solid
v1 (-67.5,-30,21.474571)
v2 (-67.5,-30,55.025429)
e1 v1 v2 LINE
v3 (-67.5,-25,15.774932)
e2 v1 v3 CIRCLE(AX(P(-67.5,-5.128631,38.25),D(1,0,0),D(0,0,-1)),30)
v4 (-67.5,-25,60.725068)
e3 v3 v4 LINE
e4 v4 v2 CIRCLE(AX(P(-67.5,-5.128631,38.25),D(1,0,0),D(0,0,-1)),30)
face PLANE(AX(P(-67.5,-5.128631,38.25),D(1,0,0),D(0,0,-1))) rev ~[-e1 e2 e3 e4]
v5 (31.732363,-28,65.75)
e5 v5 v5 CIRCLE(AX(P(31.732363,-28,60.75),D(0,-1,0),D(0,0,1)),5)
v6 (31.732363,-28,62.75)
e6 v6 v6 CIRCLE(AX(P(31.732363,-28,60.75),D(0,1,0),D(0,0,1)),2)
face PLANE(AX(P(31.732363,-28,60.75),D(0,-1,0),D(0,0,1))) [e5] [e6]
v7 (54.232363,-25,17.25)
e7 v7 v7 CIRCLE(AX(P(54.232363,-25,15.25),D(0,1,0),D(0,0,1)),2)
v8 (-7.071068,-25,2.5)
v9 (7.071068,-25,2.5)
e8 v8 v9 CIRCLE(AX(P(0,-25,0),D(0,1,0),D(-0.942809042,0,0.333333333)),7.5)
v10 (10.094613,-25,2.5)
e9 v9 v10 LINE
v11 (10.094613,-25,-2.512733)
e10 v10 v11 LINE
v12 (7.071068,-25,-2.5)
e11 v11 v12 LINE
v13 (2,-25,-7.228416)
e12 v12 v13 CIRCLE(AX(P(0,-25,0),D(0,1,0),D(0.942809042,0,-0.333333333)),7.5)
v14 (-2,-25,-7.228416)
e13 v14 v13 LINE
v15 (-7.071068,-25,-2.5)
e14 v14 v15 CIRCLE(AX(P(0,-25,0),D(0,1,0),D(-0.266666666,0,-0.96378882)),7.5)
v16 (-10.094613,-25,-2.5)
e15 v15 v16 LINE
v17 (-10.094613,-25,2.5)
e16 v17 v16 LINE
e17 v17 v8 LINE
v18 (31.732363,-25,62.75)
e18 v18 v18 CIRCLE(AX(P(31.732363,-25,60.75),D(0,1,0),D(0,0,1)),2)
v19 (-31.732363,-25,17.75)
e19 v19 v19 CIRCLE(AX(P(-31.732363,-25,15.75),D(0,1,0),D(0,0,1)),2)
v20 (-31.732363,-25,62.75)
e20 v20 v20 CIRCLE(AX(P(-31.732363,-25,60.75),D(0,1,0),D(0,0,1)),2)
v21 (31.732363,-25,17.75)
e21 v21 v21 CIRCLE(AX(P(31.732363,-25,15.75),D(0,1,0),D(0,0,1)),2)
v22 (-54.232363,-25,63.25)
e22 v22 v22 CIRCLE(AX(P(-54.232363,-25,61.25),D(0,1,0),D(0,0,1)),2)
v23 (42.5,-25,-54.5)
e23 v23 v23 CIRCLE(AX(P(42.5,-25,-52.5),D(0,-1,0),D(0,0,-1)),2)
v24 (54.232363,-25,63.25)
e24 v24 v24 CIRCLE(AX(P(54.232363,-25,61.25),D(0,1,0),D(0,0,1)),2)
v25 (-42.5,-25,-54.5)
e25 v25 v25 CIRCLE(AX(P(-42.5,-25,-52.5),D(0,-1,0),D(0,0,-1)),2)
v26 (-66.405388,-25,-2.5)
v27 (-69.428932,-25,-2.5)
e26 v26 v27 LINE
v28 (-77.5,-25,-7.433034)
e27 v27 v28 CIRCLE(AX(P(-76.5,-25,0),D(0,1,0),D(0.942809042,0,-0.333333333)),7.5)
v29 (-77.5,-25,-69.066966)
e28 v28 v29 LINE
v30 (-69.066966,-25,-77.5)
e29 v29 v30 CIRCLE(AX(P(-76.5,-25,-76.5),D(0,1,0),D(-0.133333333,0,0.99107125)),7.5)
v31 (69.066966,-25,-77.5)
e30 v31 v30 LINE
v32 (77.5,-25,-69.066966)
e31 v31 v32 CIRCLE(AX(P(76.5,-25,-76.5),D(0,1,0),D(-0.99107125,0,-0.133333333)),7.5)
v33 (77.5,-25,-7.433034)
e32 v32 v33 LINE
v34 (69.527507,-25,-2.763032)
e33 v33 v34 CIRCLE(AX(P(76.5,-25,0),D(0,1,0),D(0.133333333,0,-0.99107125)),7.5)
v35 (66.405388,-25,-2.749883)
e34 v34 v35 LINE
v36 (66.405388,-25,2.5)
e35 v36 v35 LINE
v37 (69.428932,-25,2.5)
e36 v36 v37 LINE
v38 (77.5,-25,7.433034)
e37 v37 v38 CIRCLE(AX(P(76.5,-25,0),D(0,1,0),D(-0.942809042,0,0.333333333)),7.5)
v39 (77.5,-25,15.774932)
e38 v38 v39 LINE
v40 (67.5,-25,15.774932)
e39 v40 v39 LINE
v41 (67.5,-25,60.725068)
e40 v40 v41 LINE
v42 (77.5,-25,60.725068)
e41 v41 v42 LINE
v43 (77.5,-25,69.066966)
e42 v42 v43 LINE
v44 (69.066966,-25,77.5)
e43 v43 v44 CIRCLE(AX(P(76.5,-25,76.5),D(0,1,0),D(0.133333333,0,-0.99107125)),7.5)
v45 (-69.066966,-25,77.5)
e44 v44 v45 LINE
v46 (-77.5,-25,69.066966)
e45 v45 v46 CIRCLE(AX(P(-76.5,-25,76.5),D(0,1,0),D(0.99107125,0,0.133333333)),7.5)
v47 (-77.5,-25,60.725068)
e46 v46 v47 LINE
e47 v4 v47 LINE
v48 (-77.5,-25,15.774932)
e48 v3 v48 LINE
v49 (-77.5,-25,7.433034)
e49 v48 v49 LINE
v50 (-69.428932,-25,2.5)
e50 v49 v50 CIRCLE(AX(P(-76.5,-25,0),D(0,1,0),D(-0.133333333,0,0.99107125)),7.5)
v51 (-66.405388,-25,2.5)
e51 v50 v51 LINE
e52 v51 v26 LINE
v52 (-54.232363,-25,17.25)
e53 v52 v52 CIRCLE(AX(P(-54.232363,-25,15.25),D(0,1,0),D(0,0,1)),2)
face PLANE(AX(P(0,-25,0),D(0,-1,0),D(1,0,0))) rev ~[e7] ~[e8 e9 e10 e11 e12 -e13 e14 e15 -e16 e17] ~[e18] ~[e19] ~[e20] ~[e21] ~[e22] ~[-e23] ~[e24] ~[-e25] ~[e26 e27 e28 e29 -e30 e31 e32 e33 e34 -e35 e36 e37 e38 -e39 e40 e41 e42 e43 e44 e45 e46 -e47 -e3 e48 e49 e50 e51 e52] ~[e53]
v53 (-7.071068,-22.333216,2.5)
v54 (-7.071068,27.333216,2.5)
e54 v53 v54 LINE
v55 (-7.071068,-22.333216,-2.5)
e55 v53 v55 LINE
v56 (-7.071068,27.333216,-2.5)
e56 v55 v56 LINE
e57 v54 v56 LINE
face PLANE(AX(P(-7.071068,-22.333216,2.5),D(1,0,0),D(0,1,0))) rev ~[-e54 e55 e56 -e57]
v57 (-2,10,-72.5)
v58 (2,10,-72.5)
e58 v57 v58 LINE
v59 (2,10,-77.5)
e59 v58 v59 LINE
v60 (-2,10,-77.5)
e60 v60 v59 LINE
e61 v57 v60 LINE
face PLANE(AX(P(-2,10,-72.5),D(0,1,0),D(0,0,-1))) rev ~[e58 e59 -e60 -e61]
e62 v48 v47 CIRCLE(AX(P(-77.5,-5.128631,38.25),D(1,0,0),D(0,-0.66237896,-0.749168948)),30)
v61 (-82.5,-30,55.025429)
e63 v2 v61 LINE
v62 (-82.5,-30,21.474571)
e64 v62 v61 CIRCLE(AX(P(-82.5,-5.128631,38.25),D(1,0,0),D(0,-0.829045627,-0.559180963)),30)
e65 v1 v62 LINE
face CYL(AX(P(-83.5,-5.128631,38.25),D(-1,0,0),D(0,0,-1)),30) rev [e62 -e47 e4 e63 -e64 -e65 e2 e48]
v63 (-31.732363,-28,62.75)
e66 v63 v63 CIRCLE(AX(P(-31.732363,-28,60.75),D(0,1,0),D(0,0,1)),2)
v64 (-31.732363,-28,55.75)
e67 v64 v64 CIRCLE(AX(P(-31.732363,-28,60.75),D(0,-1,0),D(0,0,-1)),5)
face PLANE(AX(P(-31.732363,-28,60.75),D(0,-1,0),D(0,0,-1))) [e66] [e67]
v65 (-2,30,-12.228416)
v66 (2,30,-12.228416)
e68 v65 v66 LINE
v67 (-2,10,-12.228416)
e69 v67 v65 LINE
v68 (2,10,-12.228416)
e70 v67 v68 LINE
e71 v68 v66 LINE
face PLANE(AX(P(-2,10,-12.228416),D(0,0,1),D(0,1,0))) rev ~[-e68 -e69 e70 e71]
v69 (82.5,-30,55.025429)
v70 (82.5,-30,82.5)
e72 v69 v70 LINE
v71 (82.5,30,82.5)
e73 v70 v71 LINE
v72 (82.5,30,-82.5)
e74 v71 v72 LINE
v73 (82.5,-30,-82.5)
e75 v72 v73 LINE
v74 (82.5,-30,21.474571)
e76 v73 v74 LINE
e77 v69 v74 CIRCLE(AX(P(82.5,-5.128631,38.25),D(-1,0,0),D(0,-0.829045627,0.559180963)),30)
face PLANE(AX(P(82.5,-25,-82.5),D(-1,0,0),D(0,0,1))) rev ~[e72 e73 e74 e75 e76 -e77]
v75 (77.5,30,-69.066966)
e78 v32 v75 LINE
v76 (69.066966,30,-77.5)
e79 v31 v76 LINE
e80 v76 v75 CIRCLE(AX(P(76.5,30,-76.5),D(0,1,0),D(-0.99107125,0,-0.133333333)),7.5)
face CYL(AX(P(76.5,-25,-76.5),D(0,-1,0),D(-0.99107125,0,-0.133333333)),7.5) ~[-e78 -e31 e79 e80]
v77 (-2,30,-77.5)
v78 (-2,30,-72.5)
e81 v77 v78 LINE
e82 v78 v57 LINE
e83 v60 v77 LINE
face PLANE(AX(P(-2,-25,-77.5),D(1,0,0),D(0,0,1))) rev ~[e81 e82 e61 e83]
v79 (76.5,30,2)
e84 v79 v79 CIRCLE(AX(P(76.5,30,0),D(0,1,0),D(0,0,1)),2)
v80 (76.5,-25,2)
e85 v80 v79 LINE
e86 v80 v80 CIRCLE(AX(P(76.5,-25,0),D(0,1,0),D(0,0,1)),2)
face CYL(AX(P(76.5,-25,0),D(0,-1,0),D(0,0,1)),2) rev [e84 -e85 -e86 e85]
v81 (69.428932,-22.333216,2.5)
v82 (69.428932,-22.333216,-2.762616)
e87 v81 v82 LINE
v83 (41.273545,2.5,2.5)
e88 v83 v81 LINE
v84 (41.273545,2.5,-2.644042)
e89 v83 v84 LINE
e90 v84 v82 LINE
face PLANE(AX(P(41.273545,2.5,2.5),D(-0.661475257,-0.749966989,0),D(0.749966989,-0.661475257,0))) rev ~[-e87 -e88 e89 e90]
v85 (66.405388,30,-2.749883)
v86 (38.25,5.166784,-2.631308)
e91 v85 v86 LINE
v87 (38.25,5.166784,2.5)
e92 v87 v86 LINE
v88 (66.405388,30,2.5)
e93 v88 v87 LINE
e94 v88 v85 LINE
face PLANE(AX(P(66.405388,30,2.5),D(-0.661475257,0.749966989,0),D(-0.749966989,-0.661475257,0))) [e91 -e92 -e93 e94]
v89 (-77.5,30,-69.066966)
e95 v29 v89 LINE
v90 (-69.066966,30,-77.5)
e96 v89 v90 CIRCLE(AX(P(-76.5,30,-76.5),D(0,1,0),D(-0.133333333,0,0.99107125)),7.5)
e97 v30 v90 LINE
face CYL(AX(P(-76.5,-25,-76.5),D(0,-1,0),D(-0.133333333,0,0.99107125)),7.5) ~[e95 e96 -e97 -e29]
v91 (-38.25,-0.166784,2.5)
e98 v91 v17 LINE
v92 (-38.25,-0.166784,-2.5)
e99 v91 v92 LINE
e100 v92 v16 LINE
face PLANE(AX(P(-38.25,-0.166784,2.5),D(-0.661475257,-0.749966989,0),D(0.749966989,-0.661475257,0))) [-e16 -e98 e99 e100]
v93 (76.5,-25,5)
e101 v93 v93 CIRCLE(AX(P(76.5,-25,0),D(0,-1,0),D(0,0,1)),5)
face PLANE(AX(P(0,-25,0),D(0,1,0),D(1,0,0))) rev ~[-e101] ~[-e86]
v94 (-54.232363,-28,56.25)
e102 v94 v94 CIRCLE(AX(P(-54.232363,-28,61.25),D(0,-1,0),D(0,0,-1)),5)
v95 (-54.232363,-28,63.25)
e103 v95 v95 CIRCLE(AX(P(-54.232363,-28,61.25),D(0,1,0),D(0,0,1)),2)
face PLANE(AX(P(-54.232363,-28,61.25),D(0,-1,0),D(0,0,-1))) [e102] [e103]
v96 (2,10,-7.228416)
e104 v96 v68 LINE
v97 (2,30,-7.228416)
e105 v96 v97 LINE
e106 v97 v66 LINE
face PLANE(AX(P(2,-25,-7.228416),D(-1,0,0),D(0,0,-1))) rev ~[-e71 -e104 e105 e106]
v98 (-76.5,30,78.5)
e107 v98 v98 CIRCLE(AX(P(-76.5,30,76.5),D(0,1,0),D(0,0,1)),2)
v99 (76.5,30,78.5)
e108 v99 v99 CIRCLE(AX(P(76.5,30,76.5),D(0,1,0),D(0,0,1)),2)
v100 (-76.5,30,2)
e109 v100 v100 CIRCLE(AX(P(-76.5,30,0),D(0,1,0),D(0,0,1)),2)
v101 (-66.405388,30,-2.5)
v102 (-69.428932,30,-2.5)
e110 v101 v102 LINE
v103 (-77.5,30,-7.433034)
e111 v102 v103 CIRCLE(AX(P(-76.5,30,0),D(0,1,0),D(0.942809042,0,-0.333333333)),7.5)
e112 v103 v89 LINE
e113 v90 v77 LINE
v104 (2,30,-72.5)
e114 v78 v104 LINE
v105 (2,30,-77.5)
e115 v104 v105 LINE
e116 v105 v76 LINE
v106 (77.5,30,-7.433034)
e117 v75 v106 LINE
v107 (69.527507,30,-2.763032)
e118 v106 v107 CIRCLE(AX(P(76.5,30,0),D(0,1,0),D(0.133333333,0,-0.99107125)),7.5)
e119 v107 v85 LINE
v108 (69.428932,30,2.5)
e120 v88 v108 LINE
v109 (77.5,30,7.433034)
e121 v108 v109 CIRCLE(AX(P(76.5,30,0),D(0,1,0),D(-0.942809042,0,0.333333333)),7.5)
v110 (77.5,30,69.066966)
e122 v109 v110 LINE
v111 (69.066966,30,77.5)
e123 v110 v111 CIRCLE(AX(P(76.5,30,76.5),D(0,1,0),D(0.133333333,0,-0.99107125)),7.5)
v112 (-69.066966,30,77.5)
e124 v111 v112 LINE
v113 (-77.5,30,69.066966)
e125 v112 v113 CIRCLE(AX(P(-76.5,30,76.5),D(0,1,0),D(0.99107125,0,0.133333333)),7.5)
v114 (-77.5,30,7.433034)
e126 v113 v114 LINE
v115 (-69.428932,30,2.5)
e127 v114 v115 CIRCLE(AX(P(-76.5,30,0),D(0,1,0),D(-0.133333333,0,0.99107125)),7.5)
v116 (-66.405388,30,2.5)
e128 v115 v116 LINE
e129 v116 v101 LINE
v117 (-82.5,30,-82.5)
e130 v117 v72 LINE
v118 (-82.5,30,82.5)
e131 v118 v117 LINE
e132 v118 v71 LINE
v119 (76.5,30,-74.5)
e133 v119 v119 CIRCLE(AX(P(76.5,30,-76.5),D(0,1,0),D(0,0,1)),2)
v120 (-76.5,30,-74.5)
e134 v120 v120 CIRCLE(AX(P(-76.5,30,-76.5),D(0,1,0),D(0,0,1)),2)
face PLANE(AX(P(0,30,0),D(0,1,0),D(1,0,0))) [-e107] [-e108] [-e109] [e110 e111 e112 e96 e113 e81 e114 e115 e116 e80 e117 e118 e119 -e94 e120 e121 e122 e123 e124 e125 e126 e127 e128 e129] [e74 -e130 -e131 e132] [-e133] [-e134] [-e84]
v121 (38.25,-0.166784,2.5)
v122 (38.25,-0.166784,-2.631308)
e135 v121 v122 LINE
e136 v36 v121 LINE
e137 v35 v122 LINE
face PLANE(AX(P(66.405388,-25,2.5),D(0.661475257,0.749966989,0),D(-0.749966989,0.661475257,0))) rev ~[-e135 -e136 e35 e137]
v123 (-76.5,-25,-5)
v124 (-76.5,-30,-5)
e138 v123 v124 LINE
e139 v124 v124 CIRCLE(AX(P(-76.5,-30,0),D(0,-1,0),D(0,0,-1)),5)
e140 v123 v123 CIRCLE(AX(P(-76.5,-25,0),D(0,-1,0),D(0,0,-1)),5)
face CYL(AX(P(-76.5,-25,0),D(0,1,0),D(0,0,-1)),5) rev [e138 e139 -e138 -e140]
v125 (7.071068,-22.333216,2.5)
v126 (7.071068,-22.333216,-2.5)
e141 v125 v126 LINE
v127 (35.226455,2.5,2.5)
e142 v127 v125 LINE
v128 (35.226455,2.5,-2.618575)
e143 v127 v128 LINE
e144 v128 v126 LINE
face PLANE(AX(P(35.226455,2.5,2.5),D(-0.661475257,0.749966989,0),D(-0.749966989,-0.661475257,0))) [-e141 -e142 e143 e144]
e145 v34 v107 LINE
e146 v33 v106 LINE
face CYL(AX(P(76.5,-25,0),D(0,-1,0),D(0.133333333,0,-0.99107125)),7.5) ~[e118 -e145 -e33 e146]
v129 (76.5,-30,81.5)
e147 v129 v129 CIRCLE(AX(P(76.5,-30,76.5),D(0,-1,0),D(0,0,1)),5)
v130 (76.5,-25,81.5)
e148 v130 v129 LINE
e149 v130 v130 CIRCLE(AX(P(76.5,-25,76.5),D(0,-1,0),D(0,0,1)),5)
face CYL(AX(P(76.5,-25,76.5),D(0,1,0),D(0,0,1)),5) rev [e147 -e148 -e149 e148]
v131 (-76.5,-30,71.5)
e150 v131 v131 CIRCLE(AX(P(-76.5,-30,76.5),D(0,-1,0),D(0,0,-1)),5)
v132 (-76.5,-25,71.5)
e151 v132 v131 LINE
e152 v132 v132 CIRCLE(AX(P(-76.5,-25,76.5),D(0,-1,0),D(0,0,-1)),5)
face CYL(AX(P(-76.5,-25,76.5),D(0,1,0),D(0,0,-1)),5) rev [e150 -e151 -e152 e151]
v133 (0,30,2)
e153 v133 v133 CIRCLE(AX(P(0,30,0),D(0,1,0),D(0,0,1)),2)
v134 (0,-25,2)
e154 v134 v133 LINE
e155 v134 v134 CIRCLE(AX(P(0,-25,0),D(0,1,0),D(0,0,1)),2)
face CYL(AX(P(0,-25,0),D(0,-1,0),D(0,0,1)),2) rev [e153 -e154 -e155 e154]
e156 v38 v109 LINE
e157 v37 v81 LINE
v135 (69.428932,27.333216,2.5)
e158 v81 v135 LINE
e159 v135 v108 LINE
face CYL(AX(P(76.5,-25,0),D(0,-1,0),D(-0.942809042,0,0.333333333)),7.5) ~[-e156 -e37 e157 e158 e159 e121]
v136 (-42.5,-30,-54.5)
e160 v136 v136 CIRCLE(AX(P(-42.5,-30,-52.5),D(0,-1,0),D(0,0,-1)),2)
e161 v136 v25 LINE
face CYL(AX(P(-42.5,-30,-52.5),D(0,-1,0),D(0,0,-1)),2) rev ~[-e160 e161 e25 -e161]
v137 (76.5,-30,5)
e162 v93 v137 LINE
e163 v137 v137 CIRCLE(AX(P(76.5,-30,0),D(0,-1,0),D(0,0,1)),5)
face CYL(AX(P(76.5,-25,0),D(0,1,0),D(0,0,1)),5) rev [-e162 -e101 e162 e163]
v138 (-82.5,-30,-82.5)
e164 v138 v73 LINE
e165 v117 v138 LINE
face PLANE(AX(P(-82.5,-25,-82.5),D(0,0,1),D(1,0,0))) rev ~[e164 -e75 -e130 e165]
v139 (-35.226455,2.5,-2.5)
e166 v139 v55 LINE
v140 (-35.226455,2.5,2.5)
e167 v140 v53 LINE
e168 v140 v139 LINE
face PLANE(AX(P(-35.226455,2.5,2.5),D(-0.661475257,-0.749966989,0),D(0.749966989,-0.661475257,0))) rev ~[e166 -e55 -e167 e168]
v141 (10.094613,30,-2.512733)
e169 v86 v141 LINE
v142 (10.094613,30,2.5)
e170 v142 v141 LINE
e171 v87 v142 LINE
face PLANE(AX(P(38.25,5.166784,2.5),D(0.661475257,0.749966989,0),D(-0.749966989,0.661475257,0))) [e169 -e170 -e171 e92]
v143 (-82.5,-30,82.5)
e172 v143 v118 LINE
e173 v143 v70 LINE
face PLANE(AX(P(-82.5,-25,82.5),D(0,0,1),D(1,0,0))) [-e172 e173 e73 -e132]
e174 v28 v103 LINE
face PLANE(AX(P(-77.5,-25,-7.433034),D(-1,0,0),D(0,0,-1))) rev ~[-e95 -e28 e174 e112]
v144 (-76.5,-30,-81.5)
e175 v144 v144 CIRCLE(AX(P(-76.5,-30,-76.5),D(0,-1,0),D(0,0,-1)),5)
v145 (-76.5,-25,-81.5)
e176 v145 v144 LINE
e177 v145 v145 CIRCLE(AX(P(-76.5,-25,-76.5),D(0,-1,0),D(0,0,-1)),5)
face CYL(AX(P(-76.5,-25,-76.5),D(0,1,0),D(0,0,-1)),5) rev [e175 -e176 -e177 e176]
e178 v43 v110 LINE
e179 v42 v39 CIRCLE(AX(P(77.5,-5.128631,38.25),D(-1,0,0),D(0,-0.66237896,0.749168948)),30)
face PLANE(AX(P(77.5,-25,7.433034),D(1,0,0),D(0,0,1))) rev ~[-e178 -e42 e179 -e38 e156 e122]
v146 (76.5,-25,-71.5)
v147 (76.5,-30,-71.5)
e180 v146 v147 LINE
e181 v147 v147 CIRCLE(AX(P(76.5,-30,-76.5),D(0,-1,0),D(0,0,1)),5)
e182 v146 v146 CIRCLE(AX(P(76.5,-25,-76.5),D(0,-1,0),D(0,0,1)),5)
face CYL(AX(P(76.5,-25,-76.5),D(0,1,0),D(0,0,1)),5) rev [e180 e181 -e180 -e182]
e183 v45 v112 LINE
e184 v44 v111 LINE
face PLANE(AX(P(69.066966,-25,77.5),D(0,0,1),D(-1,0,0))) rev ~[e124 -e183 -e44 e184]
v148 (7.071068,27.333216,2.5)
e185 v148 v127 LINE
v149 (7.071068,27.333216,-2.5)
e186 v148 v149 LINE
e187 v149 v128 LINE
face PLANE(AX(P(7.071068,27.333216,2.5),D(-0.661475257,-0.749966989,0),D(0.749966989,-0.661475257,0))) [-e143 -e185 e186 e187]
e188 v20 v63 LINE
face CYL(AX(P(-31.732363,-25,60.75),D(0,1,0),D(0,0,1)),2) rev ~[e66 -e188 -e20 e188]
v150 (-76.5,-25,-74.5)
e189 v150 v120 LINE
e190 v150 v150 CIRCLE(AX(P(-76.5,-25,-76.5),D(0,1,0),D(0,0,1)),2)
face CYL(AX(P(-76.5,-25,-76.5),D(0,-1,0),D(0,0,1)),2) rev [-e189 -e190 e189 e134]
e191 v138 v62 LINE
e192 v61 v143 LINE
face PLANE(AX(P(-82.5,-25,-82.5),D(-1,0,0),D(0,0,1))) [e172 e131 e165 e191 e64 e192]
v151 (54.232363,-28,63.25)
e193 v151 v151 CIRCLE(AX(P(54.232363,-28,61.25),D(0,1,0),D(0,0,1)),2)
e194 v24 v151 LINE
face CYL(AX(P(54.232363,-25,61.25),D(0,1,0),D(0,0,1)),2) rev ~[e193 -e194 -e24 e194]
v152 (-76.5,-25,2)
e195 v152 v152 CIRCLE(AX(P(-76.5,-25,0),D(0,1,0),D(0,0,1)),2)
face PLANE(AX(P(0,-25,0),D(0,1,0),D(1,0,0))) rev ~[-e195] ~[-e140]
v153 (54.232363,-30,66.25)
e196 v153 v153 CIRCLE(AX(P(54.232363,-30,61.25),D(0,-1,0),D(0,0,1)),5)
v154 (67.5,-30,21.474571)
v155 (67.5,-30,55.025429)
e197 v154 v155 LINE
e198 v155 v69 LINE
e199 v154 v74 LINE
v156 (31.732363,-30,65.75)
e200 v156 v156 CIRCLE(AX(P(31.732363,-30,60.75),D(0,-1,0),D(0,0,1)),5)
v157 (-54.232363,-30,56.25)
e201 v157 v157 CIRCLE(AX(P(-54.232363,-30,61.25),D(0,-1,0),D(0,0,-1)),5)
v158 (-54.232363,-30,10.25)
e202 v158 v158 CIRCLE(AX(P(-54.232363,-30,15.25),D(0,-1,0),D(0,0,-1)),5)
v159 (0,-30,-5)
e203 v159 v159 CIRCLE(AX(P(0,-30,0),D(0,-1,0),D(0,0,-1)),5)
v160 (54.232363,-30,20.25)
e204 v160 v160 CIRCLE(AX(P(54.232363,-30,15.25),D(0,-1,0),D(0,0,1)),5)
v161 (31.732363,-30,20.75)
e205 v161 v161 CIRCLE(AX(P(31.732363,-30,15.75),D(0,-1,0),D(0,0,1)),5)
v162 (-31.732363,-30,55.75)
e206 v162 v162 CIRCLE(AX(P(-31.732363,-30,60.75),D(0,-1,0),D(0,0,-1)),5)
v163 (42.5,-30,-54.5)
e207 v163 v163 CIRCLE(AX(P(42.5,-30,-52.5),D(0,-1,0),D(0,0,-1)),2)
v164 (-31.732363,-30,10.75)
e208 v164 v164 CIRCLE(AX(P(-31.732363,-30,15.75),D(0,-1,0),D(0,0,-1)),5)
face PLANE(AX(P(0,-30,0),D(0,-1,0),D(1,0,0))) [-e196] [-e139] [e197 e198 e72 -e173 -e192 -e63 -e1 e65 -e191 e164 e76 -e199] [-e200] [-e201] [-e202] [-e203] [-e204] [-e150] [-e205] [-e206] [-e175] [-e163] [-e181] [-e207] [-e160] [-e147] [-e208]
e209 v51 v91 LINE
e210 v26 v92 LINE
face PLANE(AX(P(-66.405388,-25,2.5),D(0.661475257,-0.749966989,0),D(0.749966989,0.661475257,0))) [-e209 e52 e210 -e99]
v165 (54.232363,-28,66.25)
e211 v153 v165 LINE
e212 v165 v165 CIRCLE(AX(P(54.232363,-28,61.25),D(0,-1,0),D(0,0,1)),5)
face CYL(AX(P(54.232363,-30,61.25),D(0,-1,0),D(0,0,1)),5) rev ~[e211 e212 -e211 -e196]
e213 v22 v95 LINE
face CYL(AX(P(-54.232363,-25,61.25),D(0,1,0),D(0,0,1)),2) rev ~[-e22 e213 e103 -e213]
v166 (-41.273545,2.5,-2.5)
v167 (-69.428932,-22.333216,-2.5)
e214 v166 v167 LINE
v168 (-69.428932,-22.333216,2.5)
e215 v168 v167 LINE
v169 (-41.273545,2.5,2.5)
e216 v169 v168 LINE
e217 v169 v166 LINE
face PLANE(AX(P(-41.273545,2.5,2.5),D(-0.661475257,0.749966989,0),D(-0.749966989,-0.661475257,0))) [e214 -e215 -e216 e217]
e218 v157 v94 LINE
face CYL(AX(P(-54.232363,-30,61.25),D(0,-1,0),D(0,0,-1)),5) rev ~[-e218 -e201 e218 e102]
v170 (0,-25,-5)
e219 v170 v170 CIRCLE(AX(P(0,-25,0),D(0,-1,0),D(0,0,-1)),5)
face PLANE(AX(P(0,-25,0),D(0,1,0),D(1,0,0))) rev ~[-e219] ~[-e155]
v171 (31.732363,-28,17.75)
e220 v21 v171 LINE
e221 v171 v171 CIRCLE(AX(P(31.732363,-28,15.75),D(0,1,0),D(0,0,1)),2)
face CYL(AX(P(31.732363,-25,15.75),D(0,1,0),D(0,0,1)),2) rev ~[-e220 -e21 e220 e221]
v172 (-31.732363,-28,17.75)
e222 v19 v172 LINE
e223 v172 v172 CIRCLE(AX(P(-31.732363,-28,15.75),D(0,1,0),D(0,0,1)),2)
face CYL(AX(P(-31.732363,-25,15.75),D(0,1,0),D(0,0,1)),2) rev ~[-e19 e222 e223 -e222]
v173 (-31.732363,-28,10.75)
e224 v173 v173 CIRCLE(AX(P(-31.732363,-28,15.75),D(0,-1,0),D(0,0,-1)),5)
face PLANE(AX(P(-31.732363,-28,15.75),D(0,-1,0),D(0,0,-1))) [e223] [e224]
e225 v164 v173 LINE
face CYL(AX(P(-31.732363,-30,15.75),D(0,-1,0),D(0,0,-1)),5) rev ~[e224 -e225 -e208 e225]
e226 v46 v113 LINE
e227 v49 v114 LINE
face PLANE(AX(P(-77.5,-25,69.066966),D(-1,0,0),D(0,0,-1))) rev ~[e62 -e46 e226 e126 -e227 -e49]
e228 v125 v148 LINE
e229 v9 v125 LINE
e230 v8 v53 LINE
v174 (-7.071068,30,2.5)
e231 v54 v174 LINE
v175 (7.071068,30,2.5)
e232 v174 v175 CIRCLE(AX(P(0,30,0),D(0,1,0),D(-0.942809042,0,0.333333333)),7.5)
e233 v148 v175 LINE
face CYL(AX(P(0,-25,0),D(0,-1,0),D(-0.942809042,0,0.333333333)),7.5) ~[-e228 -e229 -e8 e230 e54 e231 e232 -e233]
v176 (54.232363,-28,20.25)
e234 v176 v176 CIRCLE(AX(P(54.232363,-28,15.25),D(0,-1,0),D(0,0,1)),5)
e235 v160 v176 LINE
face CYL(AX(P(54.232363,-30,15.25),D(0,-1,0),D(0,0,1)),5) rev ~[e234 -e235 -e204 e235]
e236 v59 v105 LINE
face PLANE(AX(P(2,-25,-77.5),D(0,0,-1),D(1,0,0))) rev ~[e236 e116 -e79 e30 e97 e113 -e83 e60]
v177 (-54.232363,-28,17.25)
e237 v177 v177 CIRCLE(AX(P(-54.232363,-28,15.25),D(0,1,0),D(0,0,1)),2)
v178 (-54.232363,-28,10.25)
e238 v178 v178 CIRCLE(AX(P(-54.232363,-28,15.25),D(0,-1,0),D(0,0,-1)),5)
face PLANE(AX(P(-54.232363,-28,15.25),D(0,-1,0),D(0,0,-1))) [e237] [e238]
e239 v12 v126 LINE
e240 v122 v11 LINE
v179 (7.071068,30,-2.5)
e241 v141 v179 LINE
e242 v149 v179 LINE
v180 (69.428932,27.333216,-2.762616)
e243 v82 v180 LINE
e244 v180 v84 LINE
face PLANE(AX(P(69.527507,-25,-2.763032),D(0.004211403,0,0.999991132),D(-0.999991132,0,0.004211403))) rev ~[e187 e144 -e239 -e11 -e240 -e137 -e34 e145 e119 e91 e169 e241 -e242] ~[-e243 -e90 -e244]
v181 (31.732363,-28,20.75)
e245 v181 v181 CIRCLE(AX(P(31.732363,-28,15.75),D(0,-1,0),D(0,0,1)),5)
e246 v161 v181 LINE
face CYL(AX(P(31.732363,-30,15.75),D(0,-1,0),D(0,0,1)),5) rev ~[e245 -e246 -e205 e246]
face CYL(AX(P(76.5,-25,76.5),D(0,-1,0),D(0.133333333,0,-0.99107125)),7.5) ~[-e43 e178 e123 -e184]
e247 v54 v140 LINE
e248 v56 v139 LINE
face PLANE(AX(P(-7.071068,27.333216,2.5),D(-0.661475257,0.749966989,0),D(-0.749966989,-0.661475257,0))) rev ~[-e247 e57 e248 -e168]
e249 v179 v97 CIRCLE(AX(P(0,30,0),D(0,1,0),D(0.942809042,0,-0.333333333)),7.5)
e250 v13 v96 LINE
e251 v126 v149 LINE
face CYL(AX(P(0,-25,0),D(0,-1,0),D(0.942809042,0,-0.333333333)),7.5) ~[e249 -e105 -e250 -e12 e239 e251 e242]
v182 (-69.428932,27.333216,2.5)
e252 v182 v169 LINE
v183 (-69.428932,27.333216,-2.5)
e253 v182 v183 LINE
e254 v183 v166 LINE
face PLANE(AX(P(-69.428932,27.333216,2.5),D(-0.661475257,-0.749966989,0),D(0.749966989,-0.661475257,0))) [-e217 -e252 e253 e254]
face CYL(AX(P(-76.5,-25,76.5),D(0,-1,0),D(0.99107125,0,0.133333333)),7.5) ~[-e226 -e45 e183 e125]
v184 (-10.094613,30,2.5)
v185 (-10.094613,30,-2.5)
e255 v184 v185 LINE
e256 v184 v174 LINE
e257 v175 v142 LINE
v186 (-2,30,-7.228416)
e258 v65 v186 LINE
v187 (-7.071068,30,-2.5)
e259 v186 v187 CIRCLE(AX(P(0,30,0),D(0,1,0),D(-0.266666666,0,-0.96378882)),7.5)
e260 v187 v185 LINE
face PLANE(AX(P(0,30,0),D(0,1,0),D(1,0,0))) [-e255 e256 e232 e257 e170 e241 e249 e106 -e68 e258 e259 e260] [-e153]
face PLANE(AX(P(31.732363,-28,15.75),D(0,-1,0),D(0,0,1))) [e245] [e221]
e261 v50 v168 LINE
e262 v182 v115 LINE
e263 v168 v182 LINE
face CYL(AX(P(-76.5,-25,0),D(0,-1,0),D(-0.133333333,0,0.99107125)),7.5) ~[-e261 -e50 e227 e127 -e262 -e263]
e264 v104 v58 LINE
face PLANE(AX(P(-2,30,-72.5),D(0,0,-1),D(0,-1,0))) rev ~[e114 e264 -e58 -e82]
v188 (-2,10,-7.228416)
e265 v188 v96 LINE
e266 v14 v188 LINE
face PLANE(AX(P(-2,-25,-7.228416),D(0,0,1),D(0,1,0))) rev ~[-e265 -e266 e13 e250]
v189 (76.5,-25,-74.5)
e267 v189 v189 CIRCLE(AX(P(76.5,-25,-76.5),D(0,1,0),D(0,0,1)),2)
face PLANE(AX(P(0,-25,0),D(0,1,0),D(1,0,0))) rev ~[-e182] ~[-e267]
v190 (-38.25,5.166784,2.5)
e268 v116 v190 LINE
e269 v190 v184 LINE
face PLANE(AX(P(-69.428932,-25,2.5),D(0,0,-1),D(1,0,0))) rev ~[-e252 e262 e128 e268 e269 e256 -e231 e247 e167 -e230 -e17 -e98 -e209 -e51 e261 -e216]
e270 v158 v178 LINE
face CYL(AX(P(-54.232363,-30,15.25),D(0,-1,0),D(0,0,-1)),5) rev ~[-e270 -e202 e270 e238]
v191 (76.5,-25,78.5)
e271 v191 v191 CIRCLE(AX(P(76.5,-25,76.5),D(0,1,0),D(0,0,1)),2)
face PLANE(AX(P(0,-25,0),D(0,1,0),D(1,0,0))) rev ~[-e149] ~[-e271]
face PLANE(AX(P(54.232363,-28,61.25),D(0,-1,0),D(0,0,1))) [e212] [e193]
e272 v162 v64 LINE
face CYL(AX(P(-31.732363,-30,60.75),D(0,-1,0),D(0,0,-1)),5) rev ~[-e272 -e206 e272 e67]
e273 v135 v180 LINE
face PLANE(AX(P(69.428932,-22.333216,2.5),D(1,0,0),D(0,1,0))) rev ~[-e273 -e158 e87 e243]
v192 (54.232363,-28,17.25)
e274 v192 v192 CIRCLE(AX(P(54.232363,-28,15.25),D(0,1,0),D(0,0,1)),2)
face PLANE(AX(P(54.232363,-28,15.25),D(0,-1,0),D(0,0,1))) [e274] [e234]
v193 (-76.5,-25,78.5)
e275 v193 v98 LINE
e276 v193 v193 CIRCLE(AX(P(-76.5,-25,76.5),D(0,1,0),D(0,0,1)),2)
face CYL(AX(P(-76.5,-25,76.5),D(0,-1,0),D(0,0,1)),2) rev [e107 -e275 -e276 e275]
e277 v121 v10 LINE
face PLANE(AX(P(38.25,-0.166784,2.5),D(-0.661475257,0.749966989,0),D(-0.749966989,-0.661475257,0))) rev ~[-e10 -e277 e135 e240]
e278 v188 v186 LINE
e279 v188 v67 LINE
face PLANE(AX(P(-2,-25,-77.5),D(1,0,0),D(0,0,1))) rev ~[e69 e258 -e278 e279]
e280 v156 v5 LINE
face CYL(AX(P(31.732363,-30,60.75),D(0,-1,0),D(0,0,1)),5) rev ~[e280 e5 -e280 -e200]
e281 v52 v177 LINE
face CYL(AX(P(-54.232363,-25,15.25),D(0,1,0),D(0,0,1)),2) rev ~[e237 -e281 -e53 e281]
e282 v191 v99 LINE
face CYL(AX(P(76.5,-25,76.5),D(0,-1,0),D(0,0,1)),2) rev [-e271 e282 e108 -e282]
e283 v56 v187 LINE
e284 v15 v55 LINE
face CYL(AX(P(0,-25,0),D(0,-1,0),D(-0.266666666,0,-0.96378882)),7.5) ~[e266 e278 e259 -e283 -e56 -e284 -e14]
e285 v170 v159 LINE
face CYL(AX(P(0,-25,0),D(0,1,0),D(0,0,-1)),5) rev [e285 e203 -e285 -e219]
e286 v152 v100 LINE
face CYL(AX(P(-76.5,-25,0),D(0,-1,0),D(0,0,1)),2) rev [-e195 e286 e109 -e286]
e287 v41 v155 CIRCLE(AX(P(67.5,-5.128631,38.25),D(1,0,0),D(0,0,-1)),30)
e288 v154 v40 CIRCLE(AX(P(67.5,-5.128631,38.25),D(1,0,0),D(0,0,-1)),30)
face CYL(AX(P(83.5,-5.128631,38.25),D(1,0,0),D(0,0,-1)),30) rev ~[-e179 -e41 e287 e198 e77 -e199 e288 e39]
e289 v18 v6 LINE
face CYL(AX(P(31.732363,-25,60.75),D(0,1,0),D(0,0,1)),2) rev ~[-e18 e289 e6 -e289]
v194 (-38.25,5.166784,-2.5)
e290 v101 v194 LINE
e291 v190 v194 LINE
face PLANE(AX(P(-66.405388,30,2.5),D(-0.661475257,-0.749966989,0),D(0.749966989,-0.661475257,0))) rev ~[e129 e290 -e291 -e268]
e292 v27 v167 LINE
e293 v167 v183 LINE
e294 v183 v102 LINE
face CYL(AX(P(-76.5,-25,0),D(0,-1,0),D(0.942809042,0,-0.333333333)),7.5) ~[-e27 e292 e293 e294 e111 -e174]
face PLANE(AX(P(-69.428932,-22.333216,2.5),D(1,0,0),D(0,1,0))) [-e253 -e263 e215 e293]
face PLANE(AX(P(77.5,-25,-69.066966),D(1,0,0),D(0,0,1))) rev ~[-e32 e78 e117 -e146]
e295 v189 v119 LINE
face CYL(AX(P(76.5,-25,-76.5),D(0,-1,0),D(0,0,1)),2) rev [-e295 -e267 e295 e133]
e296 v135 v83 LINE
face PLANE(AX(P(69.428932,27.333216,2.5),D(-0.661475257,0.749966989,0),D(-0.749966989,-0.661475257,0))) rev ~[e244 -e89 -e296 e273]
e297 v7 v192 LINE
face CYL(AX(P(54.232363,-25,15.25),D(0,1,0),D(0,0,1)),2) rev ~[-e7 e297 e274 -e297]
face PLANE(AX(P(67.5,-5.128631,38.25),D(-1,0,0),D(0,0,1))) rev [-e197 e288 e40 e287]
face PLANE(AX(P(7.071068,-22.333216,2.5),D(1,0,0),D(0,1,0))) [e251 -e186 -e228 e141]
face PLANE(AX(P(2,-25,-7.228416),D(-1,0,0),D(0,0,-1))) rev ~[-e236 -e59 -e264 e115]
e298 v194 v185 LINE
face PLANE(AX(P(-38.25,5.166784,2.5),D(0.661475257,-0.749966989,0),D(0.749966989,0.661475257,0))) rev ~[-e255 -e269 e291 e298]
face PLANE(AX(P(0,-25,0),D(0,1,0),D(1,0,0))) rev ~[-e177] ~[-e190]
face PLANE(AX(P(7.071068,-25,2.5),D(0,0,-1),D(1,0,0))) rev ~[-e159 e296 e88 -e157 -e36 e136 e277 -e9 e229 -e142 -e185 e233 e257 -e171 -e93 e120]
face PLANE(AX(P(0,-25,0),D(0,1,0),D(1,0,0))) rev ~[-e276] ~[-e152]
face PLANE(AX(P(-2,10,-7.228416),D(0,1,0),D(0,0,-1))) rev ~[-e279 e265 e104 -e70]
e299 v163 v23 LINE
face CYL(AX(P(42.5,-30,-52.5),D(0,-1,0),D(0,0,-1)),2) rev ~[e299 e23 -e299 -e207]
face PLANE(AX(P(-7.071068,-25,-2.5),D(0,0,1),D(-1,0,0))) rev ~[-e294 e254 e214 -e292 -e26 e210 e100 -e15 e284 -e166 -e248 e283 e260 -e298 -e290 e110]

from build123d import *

# Parameters (mm, degrees)
BASE_EXT_DEPTH            = 30
BASE_EXT_DEPTH_BACK       = 25
ESQUISSE1_W               = 165
ESQUISSE1_H               = 165
ESQUISSE1_R               = 2
ESQUISSE2_W               = 165
ESQUISSE2_H               = 165
ESQUISSE2_R               = 5
BASE_BAS_DEPTH            = 5
ACCES_START               = -6
ESQUISSE4_R               = 30
ACCES_ROUES_DEPTH         = 16
ESQUISSE7_R               = 2
VIDE_SUPPORT_MOTEUR_DEPTH = 5
ESQUISSE9_R               = 5
VIS_MOTEUR_10MM_DEPTH     = 2
ESQUISSE10_R              = 2
VIS_PATIN_DEPTH           = 5
VIDE_CROIX_DEPTH          = 11
VIDE_GUIDAGE_REACH        = 123.846


with BuildPart() as part:
    # Esquisse1 → BASE EXT (new, two sides: drawn at the far end of the back side and taken through both)
    with BuildSketch(Plane(origin=(0, 0, 0), x_dir=(1, 0, 0), z_dir=(0, 1, 0)).offset(-BASE_EXT_DEPTH_BACK)):
        Rectangle(ESQUISSE1_W, ESQUISSE1_H)
        with Locations(Location((-76.5, -76.5, 0), (0, 0, 270))):
            Circle(ESQUISSE1_R, mode=Mode.SUBTRACT)
        with Locations(Location((-76.5, 0, 0), (0, 0, 270))):
            Circle(ESQUISSE1_R, mode=Mode.SUBTRACT)
        with Locations(Location((76.5, -76.5, 0), (0, 0, 270))):
            Circle(ESQUISSE1_R, mode=Mode.SUBTRACT)
        with BuildLine():
            ThreePointArc((77.5, -69.066965626), (71.196699141, -71.196699141), (69.066965626, -77.5))
            Line((69.066965626, -77.5), (-69.066965626, -77.5))
            ThreePointArc((-69.066965626, -77.5), (-71.196699141, -71.196699141), (-77.5, -69.066965626))
            Line((-77.5, -69.066965626), (-77.5, -7.433034374))
            ThreePointArc((-77.5, -7.433034374), (-72.588712088, -6.399361443), (-69.428932188, -2.5))
            Line((-69.428932188, -2.5), (-7.071067812, -2.5))
            ThreePointArc((-7.071067812, -2.5), (0, -7.5), (7.071067812, -2.5))
            Line((7.071067812, -2.5), (69.428932188, -2.5))
            ThreePointArc((69.428932188, -2.5), (72.588712088, -6.399361443), (77.5, -7.433034374))
            Line((77.5, -7.433034374), (77.5, -69.066965626))
        make_face(mode=Mode.SUBTRACT)
        with Locations(Location((76.5, 0, 0), (0, 0, 270))):
            Circle(ESQUISSE1_R, mode=Mode.SUBTRACT)
        with BuildLine():
            Line((-7.071067812, 2.5), (-69.428932188, 2.5))
            ThreePointArc((-69.428932188, 2.5), (-72.588712088, 6.399361443), (-77.5, 7.433034374))
            Line((-77.5, 7.433034374), (-77.5, 69.066965626))
            ThreePointArc((-77.5, 69.066965626), (-71.196699141, 71.196699141), (-69.066965626, 77.5))
            Line((-69.066965626, 77.5), (-2, 77.5))
            Line((-2, 77.5), (-2, 7.228416147))
            ThreePointArc((-2, 7.228416147), (-5.114738276, 5.485385344), (-7.071067812, 2.5))
        make_face(mode=Mode.SUBTRACT)
        with Locations(Location((-76.5, 76.5, 0), (0, 0, 270))):
            Circle(ESQUISSE1_R, mode=Mode.SUBTRACT)
        with Locations(Location((0, 0, 0), (0, 0, 270))):
            Circle(ESQUISSE1_R, mode=Mode.SUBTRACT)
        with BuildLine():
            ThreePointArc((77.5, 7.433034374), (72.709235004, 6.471483659), (69.52750715, 2.76303157))
            Line((69.52750715, 2.76303157), (7.071067812, 2.5))
            ThreePointArc((7.071067812, 2.5), (5.114738276, 5.485385344), (2, 7.228416147))
            Line((2, 7.228416147), (2, 77.5))
            Line((2, 77.5), (69.066965626, 77.5))
            ThreePointArc((69.066965626, 77.5), (71.196699141, 71.196699141), (77.5, 69.066965626))
            Line((77.5, 69.066965626), (77.5, 7.433034374))
        make_face(mode=Mode.SUBTRACT)
        with Locations(Location((76.5, 76.5, 0), (0, 0, 270))):
            Circle(ESQUISSE1_R, mode=Mode.SUBTRACT)
    extrude(amount=BASE_EXT_DEPTH + BASE_EXT_DEPTH_BACK)

    # Esquisse2 → BASE BAS (add)
    with BuildSketch(Plane.XZ.offset(25)):
        Rectangle(ESQUISSE2_W, ESQUISSE2_H)
        with Locations(Location((-76.5, 0, 0), (0, 0, 270))):
            Circle(ESQUISSE2_R, mode=Mode.SUBTRACT)
        with Locations(Location((-76.5, -76.5, 0), (0, 0, 270))):
            Circle(ESQUISSE2_R, mode=Mode.SUBTRACT)
        with Locations(Location((76.5, -76.5, 0), (0, 0, 90))):
            Circle(ESQUISSE2_R, mode=Mode.SUBTRACT)
        with Locations(Location((76.5, 0, 0), (0, 0, 90))):
            Circle(ESQUISSE2_R, mode=Mode.SUBTRACT)
        with Locations(Location((76.5, 76.5, 0), (0, 0, 90))):
            Circle(ESQUISSE2_R, mode=Mode.SUBTRACT)
        with Locations(Location((0, 0, 0), (0, 0, 270))):
            Circle(ESQUISSE2_R, mode=Mode.SUBTRACT)
        with Locations(Location((-76.5, 76.5, 0), (0, 0, 270))):
            Circle(ESQUISSE2_R, mode=Mode.SUBTRACT)
    extrude(amount=BASE_BAS_DEPTH)

    # Esquisse4 → ACCES ROUES (cut)
    with BuildSketch(Plane(origin=(-77.5, 0, 0), x_dir=(0, 0, -1), z_dir=(1, 0, 0)).offset(ACCES_START)):
        with Locations((-38.25, -5.128631201)):
            Circle(ESQUISSE4_R)
    acces_roues = extrude(amount=ACCES_ROUES_DEPTH, mode=Mode.SUBTRACT)

    # SYM ACCES ROUE: ACCES ROUES across plane
    add(acces_roues.mirror(Plane(origin=(0, 0, 0), x_dir=(0, 0, 1), z_dir=(1, 0, 0))), mode=Mode.SUBTRACT)

    # Esquisse7 → VIDE SUPPORT MOTEUR (cut)
    with BuildSketch(Plane(origin=(0, -25, 0), x_dir=(1, 0, 0), z_dir=(0, 1, 0))):
        with Locations(Location((54.232363064, -61.25, 0), (0, 0, 270))):
            Circle(ESQUISSE7_R)
        with Locations(Location((31.732363064, -60.75, 0), (0, 0, 270))):
            Circle(ESQUISSE7_R)
        with Locations(Location((31.732363064, -15.75, 0), (0, 0, 270))):
            Circle(ESQUISSE7_R)
        with Locations(Location((54.232363064, -15.25, 0), (0, 0, 270))):
            Circle(ESQUISSE7_R)
        with Locations(Location((-54.232363064, -15.25, 0), (0, 0, 270))):
            Circle(ESQUISSE7_R)
        with Locations(Location((-31.732363064, -15.75, 0), (0, 0, 270))):
            Circle(ESQUISSE7_R)
        with Locations(Location((-31.732363064, -60.75, 0), (0, 0, 270))):
            Circle(ESQUISSE7_R)
        with Locations(Location((-54.232363064, -61.25, 0), (0, 0, 270))):
            Circle(ESQUISSE7_R)
    extrude(amount=-VIDE_SUPPORT_MOTEUR_DEPTH, mode=Mode.SUBTRACT)

    # Esquisse9 → VIS MOTEUR 10mm (cut)
    with BuildSketch(Plane.XZ.offset(30)):
        with Locations(Location((-54.232363064, 61.25, 0), (0, 0, 270))):
            Circle(ESQUISSE9_R)
        with Locations(Location((-31.732363064, 60.75, 0), (0, 0, 270))):
            Circle(ESQUISSE9_R)
        with Locations(Location((-54.232363064, 15.25, 0), (0, 0, 270))):
            Circle(ESQUISSE9_R)
        with Locations(Location((-31.732363064, 15.75, 0), (0, 0, 270))):
            Circle(ESQUISSE9_R)
        with Locations(Location((31.732363064, 15.75, 0), (0, 0, 90))):
            Circle(ESQUISSE9_R)
        with Locations(Location((54.232363064, 15.25, 0), (0, 0, 90))):
            Circle(ESQUISSE9_R)
        with Locations(Location((31.732363064, 60.75, 0), (0, 0, 90))):
            Circle(ESQUISSE9_R)
        with Locations(Location((54.232363064, 61.25, 0), (0, 0, 90))):
            Circle(ESQUISSE9_R)
    extrude(amount=-VIS_MOTEUR_10MM_DEPTH, mode=Mode.SUBTRACT)

    # Esquisse10 → VIS PATIN (cut)
    with BuildSketch(Plane.XZ.offset(30)):
        with Locations(Location((-42.5, -52.5, 0), (0, 0, 270))):
            Circle(ESQUISSE10_R)
        with Locations(Location((42.5, -52.5, 0), (0, 0, 270))):
            Circle(ESQUISSE10_R)
    extrude(amount=-VIS_PATIN_DEPTH, mode=Mode.SUBTRACT)

    # Esquisse11 → VIDE CROIX (cut)
    with BuildSketch(Plane.XY.offset(2.5)):
        Polygon((-69.428932188, 27.333215955), (-41.273544688, 2.5), (-69.428932188, -22.333215955), align=None)
        Polygon((-66.4053875, 30), (-38.25, 5.166784045), (-10.0946125, 30), align=None)
        Polygon((-7.071067812, -22.333215955), (-7.071067812, 27.333215955), (-35.226455312, 2.5), align=None)
        Polygon((-10.0946125, -25), (-66.4053875, -25), (-38.25, -0.166784045), align=None)
        Polygon((66.4053875, -25), (38.25, -0.166784045), (10.0946125, -25), align=None)
        Polygon((7.071067812, 27.333215955), (35.226455312, 2.5), (7.071067812, -22.333215955), align=None)
        Polygon((69.428932188, -22.333215955), (69.428932188, 27.333215955), (41.273544688, 2.5), align=None)
        Polygon((10.0946125, 30), (66.4053875, 30), (38.25, 5.166784045), align=None)
    extrude(amount=-VIDE_CROIX_DEPTH, mode=Mode.SUBTRACT)

    # VIDE GUIDAGE: up to this face of the body (flat: up to its plane)
    vide_guidage_end = Plane(part.part.faces().sort_by_distance((2, 2.5, -42.364208074))[0])
    # Esquisse12 → VIDE GUIDAGE (cut, up to the picked face)
    with BuildSketch(Plane.ZY.offset(2), mode=Mode.PRIVATE) as vide_guidage_sk1:
        Polygon((-7.228416147, 10), (-12.228416147, 10), (-12.228416147, 30), (-72.5, 30), (-72.5, 10), (-77.5, 10), (-77.5, -25), (-7.228416147, -25), align=None)
    vide_guidage_tool1 = split(extrude(vide_guidage_sk1.sketch, amount=-VIDE_GUIDAGE_REACH, mode=Mode.PRIVATE), bisect_by=vide_guidage_end, keep=Keep.BOTH, mode=Mode.PRIVATE)
    add(vide_guidage_tool1.solids().sort_by(Axis((-2, 1.545004, -42.364208), (1, 0, 0)))[0], mode=Mode.SUBTRACT)


solid = part.part
